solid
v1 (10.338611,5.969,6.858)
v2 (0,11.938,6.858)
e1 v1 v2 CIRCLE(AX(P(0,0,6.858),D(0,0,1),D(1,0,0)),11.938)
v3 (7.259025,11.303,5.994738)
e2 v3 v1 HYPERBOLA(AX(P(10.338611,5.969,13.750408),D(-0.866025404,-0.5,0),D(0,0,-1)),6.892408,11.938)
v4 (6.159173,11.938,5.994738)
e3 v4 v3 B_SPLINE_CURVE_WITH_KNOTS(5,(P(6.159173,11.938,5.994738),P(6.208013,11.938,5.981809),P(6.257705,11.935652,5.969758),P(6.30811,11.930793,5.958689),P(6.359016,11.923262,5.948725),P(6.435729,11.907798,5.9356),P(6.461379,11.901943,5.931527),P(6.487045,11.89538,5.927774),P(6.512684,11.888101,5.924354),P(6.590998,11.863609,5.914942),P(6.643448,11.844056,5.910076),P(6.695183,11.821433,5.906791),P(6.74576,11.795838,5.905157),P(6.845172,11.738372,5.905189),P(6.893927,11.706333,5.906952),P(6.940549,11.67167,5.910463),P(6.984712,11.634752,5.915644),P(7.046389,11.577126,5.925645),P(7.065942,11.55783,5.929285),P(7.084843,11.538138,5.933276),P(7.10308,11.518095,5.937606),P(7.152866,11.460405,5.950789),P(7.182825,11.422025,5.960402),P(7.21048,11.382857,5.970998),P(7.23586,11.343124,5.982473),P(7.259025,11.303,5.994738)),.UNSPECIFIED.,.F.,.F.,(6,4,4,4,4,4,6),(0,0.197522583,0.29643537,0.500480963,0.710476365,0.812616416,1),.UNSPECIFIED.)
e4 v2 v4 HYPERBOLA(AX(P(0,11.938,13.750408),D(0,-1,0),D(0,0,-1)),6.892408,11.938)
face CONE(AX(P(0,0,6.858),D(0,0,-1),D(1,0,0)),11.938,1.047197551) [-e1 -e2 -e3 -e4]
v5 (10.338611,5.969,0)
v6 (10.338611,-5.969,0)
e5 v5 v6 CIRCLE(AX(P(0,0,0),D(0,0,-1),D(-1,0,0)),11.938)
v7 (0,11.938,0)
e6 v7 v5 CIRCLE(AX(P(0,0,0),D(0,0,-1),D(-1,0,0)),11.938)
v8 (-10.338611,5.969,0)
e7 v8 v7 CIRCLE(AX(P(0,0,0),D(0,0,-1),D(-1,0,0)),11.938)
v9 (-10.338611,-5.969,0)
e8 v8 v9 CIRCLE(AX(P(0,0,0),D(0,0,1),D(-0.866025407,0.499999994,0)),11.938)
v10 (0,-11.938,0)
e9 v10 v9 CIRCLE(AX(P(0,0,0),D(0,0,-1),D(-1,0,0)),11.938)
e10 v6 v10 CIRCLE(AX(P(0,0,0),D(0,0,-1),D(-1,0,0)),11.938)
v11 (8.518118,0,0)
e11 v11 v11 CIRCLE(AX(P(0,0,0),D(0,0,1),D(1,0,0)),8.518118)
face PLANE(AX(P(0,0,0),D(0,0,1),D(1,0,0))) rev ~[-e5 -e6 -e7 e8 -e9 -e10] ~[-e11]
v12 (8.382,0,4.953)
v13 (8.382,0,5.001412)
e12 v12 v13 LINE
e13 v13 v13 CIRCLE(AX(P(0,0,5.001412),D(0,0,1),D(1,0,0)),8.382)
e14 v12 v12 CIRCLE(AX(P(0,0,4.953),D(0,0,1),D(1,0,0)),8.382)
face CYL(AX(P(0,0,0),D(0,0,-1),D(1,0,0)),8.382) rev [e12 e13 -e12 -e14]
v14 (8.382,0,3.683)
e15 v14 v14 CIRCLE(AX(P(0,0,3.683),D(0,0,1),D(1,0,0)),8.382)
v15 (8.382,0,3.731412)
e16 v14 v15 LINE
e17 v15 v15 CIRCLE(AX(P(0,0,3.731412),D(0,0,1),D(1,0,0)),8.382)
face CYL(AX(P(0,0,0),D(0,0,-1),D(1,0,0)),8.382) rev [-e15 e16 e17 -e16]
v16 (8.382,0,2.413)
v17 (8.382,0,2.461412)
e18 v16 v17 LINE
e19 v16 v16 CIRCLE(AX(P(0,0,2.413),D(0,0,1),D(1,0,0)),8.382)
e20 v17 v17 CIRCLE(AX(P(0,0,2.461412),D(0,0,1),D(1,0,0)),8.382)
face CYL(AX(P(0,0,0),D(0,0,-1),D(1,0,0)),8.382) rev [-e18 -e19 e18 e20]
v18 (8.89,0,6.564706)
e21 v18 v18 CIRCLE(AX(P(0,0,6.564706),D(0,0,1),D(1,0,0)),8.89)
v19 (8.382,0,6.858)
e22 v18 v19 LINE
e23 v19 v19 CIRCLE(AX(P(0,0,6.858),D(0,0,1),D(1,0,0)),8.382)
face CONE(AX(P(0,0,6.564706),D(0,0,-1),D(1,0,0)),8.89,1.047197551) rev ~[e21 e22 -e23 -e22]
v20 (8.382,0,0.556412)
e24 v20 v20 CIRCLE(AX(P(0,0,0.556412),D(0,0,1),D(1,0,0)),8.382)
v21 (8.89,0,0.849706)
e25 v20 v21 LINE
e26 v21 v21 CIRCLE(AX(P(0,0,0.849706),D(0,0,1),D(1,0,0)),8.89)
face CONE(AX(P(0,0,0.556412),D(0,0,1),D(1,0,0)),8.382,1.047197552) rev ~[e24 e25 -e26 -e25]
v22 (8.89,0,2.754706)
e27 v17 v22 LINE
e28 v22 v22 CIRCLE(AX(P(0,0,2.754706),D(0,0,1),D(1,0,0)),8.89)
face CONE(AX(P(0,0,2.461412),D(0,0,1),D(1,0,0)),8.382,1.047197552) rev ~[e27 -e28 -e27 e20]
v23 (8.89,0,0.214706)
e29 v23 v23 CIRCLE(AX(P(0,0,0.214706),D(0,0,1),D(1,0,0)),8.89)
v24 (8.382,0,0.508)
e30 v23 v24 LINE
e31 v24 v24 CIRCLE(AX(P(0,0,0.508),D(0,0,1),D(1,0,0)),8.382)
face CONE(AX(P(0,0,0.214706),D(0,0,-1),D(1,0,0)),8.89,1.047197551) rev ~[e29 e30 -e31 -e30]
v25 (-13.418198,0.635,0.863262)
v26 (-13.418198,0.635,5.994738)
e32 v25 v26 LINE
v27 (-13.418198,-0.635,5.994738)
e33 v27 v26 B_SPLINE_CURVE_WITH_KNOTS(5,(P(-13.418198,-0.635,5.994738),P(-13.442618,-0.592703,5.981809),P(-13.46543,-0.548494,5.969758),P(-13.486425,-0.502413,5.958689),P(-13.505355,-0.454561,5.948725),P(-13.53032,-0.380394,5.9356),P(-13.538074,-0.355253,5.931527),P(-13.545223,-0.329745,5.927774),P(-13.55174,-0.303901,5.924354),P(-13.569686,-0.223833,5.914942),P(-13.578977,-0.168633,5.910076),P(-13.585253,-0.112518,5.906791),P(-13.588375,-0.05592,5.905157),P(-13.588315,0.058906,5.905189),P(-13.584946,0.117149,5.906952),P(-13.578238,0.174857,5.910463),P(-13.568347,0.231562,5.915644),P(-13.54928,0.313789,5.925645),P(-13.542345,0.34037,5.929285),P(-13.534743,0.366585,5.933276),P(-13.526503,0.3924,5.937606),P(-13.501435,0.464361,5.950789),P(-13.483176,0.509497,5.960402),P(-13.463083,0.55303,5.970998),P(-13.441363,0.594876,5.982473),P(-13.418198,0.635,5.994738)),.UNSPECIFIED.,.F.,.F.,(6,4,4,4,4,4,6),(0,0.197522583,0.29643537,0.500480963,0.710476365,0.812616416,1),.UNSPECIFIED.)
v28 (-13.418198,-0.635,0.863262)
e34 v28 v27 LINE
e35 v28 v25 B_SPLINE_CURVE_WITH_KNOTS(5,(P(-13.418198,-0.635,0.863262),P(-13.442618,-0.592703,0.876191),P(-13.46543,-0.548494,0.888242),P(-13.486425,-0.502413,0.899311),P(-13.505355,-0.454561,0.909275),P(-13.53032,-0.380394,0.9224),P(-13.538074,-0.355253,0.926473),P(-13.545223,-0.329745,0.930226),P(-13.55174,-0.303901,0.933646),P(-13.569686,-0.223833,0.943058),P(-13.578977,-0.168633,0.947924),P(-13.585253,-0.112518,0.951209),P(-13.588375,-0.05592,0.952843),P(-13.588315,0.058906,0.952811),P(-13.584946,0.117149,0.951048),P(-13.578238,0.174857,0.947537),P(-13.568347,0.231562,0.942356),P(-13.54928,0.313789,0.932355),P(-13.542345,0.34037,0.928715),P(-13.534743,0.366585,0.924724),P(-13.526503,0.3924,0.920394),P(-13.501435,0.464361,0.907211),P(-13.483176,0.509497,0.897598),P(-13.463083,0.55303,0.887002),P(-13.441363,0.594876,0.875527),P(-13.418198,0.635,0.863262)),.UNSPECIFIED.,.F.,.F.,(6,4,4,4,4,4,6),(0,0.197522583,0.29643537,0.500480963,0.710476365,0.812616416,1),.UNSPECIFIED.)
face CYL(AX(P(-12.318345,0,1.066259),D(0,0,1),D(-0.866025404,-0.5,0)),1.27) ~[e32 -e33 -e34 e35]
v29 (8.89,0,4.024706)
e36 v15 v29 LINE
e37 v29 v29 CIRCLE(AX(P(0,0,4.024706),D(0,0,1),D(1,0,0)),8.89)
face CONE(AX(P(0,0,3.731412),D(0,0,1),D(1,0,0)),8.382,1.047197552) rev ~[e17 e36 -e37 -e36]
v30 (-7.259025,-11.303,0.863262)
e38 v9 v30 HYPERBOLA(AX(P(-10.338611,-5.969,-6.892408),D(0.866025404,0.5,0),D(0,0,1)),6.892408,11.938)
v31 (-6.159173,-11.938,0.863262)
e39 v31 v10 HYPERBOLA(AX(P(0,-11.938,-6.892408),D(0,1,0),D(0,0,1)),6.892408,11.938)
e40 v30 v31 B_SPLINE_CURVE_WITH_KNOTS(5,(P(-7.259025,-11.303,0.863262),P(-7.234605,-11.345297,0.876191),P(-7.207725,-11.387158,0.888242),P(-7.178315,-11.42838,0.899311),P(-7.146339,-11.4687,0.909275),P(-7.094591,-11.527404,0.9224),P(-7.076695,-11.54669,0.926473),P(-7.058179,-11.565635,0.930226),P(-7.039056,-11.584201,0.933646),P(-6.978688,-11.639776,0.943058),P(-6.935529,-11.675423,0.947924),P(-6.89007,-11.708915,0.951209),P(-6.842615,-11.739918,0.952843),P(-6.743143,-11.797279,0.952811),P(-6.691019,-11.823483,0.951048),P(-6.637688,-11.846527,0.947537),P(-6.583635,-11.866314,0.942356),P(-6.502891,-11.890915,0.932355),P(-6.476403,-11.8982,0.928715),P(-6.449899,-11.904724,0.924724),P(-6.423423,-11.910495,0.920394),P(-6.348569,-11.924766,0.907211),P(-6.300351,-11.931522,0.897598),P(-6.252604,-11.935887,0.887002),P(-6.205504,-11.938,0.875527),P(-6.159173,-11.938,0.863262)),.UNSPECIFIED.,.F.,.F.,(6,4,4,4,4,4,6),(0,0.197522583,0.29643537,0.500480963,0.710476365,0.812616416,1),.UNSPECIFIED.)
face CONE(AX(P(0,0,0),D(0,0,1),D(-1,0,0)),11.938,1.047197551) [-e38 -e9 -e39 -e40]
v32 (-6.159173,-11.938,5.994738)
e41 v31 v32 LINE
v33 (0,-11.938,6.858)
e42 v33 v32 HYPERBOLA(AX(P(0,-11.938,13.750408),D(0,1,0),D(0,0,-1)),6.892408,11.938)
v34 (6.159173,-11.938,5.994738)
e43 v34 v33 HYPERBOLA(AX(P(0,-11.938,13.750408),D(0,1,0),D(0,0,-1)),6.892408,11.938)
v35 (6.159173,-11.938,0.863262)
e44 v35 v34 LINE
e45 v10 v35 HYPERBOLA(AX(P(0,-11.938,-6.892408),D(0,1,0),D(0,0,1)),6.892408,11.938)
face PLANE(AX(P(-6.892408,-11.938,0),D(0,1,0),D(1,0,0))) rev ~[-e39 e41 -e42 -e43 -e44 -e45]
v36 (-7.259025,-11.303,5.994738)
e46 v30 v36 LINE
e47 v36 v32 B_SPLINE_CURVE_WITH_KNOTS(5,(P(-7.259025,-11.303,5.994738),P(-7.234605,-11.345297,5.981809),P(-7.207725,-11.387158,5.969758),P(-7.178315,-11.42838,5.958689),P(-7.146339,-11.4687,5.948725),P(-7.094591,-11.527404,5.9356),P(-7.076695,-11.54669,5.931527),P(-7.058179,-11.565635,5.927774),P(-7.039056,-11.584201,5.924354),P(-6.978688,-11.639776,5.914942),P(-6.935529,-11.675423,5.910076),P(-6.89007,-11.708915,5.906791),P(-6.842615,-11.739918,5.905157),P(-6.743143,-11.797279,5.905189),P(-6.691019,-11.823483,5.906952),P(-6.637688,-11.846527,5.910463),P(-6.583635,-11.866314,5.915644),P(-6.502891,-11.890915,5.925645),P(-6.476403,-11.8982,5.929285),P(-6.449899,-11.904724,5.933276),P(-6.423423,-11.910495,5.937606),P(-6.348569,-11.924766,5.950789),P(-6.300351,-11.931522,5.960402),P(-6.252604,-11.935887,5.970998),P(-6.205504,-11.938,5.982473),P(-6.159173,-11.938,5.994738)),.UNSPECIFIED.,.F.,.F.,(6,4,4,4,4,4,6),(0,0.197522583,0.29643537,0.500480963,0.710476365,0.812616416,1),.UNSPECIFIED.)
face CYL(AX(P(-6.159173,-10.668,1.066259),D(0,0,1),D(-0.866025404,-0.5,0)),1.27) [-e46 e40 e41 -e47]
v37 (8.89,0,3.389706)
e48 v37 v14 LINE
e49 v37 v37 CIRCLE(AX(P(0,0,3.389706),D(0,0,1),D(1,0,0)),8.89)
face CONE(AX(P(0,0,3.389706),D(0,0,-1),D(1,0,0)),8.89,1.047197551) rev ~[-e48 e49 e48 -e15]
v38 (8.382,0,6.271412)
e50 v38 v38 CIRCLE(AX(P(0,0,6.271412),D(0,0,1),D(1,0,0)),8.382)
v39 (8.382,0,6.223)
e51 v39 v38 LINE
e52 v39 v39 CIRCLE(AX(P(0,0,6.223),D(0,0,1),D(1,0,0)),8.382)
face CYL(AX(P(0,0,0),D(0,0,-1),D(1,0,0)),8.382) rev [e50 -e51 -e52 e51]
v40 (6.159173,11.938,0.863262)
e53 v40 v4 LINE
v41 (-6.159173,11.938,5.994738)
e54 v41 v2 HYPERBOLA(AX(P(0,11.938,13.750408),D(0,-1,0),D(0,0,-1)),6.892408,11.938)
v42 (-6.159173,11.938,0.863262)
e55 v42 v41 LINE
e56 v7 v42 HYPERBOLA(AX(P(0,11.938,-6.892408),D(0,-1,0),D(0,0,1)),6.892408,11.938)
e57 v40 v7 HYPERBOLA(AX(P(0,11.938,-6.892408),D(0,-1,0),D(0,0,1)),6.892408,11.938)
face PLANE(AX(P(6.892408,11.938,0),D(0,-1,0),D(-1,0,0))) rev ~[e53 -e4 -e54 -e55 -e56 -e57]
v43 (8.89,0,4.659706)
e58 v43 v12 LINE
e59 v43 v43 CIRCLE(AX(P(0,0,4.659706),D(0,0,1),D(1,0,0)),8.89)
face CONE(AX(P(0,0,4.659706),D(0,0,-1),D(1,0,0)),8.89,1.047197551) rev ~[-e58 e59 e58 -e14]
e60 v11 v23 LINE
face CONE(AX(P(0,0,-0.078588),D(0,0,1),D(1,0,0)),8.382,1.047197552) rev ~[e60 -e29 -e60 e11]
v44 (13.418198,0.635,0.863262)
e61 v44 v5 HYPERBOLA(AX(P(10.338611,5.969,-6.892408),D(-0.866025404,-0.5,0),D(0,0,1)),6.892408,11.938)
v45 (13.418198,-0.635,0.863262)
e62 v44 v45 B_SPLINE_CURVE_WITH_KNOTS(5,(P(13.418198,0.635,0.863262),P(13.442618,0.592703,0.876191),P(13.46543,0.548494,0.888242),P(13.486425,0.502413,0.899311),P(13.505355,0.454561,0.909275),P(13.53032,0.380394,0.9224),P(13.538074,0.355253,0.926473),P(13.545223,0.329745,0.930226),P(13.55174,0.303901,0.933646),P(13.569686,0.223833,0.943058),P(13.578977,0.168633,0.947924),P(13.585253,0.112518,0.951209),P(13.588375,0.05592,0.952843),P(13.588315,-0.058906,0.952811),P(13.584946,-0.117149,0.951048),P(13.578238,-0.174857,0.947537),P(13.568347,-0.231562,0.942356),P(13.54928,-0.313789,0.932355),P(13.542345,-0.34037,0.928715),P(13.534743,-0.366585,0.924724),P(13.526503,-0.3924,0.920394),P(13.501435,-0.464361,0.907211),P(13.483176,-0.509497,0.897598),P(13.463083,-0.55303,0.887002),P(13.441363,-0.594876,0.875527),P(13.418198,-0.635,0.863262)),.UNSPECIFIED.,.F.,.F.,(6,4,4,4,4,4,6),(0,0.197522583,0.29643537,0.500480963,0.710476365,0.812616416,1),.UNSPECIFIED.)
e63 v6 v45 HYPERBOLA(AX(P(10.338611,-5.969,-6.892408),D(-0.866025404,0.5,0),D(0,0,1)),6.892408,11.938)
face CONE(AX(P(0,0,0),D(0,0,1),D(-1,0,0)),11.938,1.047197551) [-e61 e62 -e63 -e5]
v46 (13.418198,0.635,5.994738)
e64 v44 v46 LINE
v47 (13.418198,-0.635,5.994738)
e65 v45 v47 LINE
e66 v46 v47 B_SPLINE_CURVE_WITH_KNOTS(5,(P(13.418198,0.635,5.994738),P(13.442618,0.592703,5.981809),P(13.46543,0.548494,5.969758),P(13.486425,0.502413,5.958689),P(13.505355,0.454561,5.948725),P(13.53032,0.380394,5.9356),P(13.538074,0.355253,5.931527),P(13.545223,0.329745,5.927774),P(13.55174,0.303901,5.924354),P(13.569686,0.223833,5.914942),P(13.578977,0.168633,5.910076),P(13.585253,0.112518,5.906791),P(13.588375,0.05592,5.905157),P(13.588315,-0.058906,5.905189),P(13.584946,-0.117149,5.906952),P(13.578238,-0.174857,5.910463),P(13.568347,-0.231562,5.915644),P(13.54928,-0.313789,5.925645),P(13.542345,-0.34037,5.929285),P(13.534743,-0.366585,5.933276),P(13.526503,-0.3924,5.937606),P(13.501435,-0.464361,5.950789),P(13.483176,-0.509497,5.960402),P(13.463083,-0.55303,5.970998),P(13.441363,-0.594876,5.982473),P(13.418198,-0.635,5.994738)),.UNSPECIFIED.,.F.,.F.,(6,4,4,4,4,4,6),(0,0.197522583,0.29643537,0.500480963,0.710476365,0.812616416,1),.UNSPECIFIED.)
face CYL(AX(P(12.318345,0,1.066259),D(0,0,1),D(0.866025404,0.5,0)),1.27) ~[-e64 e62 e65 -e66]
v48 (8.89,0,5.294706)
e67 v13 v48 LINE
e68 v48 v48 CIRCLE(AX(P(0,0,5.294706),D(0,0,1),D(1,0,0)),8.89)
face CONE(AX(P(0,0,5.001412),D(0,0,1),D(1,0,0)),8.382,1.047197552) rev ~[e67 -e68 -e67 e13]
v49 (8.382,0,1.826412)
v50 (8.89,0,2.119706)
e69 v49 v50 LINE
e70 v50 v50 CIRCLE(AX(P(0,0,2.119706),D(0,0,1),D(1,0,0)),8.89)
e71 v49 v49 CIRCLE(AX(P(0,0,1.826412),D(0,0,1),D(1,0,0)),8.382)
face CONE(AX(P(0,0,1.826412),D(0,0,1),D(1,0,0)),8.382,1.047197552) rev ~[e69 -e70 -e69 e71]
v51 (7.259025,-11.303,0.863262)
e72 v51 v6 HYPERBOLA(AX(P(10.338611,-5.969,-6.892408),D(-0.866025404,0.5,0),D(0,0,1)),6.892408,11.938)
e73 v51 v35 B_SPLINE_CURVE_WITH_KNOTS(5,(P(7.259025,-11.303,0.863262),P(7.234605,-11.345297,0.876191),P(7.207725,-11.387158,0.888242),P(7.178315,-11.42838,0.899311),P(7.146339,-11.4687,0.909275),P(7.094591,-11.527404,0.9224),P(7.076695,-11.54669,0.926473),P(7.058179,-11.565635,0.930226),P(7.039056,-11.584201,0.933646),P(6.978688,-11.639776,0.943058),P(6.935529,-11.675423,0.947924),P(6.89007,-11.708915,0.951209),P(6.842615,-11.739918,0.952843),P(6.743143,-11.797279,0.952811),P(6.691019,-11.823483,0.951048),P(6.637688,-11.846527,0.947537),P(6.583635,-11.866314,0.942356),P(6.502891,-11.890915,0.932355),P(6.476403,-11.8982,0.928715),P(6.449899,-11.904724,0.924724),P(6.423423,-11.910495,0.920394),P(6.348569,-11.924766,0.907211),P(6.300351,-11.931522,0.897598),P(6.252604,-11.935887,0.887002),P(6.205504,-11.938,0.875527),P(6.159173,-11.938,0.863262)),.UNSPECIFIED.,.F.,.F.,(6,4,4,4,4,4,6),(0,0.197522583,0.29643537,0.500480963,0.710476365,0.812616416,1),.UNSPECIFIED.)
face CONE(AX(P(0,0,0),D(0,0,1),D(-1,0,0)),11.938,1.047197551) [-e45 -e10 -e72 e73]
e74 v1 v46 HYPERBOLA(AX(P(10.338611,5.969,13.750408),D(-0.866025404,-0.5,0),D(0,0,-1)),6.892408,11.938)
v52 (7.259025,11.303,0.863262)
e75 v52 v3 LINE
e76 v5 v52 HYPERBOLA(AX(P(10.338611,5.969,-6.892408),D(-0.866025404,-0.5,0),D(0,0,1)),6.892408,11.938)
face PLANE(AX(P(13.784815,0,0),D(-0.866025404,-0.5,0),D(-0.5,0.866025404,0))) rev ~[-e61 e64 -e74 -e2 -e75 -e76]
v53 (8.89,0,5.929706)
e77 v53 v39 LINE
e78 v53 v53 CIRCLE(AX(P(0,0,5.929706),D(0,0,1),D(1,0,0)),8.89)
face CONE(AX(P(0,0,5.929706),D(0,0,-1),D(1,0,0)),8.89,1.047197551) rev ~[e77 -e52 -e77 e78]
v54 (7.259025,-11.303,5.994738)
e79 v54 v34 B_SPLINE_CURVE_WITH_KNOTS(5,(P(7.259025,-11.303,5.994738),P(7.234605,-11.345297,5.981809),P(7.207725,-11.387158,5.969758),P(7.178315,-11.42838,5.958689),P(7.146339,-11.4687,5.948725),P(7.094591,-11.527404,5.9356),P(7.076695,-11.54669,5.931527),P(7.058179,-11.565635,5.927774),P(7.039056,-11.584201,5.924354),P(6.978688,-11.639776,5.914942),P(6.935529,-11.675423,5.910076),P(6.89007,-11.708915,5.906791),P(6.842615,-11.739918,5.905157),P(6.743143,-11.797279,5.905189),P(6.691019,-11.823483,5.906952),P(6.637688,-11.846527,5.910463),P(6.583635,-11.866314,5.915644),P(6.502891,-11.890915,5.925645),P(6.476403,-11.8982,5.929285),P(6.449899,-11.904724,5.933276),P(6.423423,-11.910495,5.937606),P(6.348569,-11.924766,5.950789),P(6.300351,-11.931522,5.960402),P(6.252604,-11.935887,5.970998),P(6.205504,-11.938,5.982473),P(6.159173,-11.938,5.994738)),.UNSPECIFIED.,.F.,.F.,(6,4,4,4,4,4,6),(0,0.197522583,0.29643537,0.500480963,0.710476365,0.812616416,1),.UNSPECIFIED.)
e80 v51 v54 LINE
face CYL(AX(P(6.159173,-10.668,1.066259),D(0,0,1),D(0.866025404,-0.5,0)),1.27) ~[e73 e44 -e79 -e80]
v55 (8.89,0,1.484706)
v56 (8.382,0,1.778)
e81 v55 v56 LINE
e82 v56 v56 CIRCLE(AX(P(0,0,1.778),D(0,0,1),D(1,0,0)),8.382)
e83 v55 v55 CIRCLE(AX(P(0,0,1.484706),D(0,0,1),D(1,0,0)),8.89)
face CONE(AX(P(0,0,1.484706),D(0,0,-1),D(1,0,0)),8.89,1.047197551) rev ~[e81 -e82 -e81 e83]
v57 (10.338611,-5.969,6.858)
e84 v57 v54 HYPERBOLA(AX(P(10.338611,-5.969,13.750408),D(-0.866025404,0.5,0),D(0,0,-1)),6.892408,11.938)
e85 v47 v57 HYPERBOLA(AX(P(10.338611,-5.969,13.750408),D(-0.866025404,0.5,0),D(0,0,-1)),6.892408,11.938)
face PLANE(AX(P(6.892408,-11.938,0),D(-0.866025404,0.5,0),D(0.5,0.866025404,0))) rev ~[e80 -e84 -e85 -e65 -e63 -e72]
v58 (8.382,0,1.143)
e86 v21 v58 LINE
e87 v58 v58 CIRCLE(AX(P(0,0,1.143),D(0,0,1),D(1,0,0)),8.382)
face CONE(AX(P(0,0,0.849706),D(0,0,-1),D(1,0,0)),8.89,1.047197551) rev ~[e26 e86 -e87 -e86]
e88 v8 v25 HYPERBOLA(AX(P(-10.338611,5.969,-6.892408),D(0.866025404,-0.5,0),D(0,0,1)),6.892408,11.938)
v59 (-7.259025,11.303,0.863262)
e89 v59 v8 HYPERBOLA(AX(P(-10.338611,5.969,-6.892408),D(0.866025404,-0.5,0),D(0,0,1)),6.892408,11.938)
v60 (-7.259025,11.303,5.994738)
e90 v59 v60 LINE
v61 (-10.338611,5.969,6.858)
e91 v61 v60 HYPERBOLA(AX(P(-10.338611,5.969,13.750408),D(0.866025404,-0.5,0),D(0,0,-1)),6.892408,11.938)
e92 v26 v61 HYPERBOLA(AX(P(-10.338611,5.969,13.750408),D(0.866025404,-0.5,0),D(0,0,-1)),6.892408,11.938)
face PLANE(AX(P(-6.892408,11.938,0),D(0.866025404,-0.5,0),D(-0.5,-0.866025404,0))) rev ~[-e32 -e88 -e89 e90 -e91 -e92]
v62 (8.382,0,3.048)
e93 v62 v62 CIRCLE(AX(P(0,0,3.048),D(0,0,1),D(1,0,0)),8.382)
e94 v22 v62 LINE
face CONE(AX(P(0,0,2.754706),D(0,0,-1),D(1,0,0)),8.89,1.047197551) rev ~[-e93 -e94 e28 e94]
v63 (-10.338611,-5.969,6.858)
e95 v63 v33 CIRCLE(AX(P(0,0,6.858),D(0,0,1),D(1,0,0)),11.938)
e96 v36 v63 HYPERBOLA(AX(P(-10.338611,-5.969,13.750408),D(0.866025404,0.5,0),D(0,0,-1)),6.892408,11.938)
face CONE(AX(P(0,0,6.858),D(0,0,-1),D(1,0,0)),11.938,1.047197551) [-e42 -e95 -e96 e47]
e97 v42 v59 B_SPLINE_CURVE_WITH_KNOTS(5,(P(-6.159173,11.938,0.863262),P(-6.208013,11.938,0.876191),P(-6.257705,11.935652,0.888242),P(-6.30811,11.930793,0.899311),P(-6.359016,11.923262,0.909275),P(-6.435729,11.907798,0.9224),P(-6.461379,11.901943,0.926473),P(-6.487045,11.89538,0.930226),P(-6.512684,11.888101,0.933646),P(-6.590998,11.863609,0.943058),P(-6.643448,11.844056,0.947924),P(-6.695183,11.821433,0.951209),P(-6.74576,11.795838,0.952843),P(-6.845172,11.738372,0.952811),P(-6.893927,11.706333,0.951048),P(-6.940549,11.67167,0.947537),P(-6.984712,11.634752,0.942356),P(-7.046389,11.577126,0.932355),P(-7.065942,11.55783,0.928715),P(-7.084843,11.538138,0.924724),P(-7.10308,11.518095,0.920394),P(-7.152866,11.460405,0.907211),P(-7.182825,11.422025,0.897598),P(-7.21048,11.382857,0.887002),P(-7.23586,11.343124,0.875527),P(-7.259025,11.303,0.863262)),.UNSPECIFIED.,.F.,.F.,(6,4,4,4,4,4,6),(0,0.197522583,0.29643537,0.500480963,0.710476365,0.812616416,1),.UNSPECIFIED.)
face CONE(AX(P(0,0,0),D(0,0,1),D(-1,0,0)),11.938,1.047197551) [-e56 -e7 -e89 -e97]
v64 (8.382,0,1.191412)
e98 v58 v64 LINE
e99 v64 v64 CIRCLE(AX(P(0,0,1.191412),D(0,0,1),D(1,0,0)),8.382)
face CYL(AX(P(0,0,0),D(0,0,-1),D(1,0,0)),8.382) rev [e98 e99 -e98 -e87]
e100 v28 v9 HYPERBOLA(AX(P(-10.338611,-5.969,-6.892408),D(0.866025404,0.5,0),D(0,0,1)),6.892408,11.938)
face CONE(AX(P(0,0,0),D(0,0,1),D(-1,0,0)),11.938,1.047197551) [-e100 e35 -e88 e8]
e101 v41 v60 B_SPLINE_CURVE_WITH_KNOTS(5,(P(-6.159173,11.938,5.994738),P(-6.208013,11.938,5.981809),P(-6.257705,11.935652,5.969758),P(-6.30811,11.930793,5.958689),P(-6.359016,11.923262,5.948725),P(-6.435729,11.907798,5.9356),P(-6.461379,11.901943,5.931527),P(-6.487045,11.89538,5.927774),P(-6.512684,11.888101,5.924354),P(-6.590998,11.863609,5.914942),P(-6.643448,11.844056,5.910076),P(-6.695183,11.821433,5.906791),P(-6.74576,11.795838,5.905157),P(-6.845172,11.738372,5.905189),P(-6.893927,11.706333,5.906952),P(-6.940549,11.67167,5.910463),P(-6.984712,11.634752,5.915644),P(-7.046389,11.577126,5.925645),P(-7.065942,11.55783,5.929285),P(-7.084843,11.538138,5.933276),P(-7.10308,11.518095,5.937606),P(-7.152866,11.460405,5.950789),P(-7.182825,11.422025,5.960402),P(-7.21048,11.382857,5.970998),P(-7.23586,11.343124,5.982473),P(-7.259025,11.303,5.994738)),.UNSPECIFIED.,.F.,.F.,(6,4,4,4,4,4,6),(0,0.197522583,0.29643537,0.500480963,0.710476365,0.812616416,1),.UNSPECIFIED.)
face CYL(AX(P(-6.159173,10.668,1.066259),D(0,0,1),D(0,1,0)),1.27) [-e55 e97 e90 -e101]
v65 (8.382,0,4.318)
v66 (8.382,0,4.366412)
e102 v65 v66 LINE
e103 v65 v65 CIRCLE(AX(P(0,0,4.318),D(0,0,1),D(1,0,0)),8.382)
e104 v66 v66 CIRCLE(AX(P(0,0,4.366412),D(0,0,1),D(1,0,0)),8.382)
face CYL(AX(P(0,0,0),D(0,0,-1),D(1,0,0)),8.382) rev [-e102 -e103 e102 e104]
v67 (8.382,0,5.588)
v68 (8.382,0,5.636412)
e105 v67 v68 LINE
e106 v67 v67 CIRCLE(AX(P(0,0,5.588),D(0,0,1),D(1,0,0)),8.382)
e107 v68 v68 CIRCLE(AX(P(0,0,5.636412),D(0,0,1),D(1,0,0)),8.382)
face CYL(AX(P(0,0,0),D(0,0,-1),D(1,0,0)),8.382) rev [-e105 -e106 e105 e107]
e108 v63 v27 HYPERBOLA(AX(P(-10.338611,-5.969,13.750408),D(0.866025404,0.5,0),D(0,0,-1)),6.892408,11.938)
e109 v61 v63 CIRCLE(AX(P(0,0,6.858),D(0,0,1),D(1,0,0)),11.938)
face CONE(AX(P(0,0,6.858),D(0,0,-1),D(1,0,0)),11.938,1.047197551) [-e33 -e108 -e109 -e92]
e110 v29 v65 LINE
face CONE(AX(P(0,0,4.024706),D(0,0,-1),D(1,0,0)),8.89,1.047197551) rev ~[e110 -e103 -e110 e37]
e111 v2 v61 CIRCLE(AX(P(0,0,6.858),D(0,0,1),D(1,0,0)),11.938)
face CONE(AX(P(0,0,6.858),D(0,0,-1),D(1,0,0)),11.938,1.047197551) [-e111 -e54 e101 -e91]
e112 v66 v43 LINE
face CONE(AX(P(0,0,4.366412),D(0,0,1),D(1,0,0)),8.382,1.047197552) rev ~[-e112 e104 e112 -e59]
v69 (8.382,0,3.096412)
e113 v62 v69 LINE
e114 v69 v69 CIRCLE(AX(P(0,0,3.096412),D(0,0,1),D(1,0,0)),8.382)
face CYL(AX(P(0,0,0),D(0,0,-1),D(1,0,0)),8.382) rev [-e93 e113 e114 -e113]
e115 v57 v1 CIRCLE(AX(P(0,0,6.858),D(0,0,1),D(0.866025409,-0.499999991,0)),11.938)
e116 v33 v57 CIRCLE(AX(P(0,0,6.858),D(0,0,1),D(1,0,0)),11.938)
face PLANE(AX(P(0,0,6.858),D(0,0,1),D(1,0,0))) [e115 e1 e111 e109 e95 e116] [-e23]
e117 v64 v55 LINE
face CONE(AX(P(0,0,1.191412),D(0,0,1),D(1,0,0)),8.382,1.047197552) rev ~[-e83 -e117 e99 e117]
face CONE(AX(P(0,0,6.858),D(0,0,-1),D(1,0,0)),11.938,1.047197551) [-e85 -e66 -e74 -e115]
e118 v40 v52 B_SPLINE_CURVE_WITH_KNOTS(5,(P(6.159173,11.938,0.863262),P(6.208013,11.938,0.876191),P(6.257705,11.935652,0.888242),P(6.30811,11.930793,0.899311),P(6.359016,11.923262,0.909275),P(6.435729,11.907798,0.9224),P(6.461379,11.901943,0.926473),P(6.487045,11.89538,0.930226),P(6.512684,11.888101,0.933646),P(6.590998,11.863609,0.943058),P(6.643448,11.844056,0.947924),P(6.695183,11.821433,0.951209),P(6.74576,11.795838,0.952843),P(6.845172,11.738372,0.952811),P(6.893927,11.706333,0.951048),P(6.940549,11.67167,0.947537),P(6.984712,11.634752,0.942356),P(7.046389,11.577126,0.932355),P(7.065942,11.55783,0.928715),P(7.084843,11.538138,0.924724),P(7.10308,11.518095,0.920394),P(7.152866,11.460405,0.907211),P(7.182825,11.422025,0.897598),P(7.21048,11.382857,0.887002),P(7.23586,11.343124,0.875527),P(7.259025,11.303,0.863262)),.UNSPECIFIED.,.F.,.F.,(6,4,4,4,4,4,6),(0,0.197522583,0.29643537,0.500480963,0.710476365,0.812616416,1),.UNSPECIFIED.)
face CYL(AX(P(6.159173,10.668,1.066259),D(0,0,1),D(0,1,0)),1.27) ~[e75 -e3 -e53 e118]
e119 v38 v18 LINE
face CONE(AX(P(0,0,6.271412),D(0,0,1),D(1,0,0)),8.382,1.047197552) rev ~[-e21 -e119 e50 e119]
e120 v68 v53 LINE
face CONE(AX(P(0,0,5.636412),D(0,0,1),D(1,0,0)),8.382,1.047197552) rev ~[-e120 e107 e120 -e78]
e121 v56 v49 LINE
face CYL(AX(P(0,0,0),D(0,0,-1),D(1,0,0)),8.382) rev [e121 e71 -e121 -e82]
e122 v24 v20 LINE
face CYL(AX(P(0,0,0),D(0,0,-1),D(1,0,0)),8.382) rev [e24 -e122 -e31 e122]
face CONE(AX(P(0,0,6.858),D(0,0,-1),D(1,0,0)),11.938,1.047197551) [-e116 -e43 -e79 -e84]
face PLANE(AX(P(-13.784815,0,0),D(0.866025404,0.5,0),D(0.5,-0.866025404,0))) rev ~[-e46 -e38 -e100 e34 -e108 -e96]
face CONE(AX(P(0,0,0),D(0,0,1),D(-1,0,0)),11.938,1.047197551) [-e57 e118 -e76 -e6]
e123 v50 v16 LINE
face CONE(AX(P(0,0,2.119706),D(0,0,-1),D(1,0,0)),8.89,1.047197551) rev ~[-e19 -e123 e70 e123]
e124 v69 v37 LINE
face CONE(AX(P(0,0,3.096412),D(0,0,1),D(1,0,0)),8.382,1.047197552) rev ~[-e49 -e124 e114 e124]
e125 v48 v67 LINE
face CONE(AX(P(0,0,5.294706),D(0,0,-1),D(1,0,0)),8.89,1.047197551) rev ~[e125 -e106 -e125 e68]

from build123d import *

# Parameters (mm, degrees)
SKETCH1_R          = 8.382
EXTRUDE1_DEPTH     = 6.858
SKETCH2_OUTSIDE_W  = 64.212
SKETCH2_OUTSIDE_H  = 60.518
SKETCH2_OUTSIDE_R  = 11.938
CUT_EXTRUDE1_DEPTH = 7.858
CUT_EXTRUDE1_DRAFT = -60
SKETCH3_OUTSIDE_W  = 64.212
SKETCH3_OUTSIDE_H  = 60.518
SKETCH3_OUTSIDE_R  = 11.938
CUT_EXTRUDE2_DEPTH = 7.858
CUT_EXTRUDE2_DRAFT = -60
FILLET1_R          = 1.27
LPATTERN1_COUNT    = 11
LPATTERN1_PITCH    = 0.635


with BuildPart() as part:
    # Sketch1 → Extrude1 (new body)
    with BuildSketch(Plane.XY):
        Polygon((-13.784815027, 0), (-6.892407514, -11.938), (6.892407514, -11.938), (13.784815027, 0), (6.892407514, 11.938), (-6.892407514, 11.938), align=None)
        Circle(SKETCH1_R, mode=Mode.SUBTRACT)
    extrude(amount=EXTRUDE1_DEPTH)


with BuildPart() as cut_extrude1_tool:
    # Sketch2 outside → Cut-Extrude1 (with draft: the straight prism first)
    with BuildSketch(Plane.XY.offset(6.858)):
        Rectangle(SKETCH2_OUTSIDE_W, SKETCH2_OUTSIDE_H)
        Circle(SKETCH2_OUTSIDE_R, mode=Mode.SUBTRACT)
    extrude(amount=-CUT_EXTRUDE1_DEPTH)
    # Cut-Extrude1: the draft: its side faces are tilted about the plane it starts from
    cut_extrude1_sides = [cut_extrude1_tool.faces().sort_by_distance(p)[0] for p in [
        (0, -30.259, 2.929),
        (32.106, 0, 2.929),
        (0, 30.259, 2.929),
        (-32.106, 0, 2.929),
        (-11.938, 0, 2.929),
    ]]
    draft(cut_extrude1_sides, Plane.XY.offset(6.858), CUT_EXTRUDE1_DRAFT)


with BuildPart() as part_1:
    add(part.part)

    # Cut-Extrude1: cut by cut_extrude1_tool
    add(cut_extrude1_tool.part, mode=Mode.SUBTRACT)


with BuildPart() as cut_extrude2_tool:
    # Sketch3 outside → Cut-Extrude2 (with draft: the straight prism first)
    with BuildSketch(Plane(origin=(0, 0, 0), x_dir=(-1, 0, 0), z_dir=(0, 0, -1))):
        Rectangle(SKETCH3_OUTSIDE_W, SKETCH3_OUTSIDE_H)
        Circle(SKETCH3_OUTSIDE_R, mode=Mode.SUBTRACT)
    extrude(amount=-CUT_EXTRUDE2_DEPTH)
    # Cut-Extrude2: the draft: its side faces are tilted about the plane it starts from
    cut_extrude2_sides = [cut_extrude2_tool.faces().sort_by_distance(p)[0] for p in [
        (0, -30.259, 3.929),
        (-32.106, 0, 3.929),
        (0, 30.259, 3.929),
        (32.106, 0, 3.929),
        (11.938, 0, 3.929),
    ]]
    draft(cut_extrude2_sides, Plane(origin=(0, 0, 0), x_dir=(-1, 0, 0), z_dir=(0, 0, -1)), CUT_EXTRUDE2_DRAFT)


with BuildPart() as part_2:
    add(part_1.part)

    # Cut-Extrude2: cut by cut_extrude2_tool
    add(cut_extrude2_tool.part, mode=Mode.SUBTRACT)

    # Fillet1
    fillet1_edges = [part_2.edges().sort_by_distance(p)[0] for p in [
        (13.784815027, 0, 3.429),
        (6.892407514, -11.938, 3.429),
        (-6.892407514, -11.938, 3.429),
        (-13.784815027, 0, 3.429),
        (-6.892407514, 11.938, 3.429),
        (6.892407514, 11.938, 3.429),
    ]]
    fillet(fillet1_edges, radius=FILLET1_R)

    # Sketch4 → Cut-Revolve1 (revolve, cut)
    with BuildSketch(Plane(origin=(0, 0, 0), x_dir=(1, 0, 0), z_dir=(0, 1, 0)), mode=Mode.PRIVATE) as cut_revolve1_sk:
        Polygon((-8.382, -6.858), (-8.382, -6.271412127), (-8.89, -6.564706063), align=None)
    cut_revolve1 = revolve(cut_revolve1_sk.sketch.rotate(Axis((0, 0, 0), (0, 0, 1)), 180), axis=Axis((0, 0, 0), (0, 0, 1)), mode=Mode.SUBTRACT)  # turned: the seam where the file's is

    # LPattern1: Cut-Revolve1 ×11
    with Locations(*[(0, 0, -i * LPATTERN1_PITCH) for i in range(1, LPATTERN1_COUNT)]):
        add(cut_revolve1, mode=Mode.SUBTRACT)


solid = part_2.part
